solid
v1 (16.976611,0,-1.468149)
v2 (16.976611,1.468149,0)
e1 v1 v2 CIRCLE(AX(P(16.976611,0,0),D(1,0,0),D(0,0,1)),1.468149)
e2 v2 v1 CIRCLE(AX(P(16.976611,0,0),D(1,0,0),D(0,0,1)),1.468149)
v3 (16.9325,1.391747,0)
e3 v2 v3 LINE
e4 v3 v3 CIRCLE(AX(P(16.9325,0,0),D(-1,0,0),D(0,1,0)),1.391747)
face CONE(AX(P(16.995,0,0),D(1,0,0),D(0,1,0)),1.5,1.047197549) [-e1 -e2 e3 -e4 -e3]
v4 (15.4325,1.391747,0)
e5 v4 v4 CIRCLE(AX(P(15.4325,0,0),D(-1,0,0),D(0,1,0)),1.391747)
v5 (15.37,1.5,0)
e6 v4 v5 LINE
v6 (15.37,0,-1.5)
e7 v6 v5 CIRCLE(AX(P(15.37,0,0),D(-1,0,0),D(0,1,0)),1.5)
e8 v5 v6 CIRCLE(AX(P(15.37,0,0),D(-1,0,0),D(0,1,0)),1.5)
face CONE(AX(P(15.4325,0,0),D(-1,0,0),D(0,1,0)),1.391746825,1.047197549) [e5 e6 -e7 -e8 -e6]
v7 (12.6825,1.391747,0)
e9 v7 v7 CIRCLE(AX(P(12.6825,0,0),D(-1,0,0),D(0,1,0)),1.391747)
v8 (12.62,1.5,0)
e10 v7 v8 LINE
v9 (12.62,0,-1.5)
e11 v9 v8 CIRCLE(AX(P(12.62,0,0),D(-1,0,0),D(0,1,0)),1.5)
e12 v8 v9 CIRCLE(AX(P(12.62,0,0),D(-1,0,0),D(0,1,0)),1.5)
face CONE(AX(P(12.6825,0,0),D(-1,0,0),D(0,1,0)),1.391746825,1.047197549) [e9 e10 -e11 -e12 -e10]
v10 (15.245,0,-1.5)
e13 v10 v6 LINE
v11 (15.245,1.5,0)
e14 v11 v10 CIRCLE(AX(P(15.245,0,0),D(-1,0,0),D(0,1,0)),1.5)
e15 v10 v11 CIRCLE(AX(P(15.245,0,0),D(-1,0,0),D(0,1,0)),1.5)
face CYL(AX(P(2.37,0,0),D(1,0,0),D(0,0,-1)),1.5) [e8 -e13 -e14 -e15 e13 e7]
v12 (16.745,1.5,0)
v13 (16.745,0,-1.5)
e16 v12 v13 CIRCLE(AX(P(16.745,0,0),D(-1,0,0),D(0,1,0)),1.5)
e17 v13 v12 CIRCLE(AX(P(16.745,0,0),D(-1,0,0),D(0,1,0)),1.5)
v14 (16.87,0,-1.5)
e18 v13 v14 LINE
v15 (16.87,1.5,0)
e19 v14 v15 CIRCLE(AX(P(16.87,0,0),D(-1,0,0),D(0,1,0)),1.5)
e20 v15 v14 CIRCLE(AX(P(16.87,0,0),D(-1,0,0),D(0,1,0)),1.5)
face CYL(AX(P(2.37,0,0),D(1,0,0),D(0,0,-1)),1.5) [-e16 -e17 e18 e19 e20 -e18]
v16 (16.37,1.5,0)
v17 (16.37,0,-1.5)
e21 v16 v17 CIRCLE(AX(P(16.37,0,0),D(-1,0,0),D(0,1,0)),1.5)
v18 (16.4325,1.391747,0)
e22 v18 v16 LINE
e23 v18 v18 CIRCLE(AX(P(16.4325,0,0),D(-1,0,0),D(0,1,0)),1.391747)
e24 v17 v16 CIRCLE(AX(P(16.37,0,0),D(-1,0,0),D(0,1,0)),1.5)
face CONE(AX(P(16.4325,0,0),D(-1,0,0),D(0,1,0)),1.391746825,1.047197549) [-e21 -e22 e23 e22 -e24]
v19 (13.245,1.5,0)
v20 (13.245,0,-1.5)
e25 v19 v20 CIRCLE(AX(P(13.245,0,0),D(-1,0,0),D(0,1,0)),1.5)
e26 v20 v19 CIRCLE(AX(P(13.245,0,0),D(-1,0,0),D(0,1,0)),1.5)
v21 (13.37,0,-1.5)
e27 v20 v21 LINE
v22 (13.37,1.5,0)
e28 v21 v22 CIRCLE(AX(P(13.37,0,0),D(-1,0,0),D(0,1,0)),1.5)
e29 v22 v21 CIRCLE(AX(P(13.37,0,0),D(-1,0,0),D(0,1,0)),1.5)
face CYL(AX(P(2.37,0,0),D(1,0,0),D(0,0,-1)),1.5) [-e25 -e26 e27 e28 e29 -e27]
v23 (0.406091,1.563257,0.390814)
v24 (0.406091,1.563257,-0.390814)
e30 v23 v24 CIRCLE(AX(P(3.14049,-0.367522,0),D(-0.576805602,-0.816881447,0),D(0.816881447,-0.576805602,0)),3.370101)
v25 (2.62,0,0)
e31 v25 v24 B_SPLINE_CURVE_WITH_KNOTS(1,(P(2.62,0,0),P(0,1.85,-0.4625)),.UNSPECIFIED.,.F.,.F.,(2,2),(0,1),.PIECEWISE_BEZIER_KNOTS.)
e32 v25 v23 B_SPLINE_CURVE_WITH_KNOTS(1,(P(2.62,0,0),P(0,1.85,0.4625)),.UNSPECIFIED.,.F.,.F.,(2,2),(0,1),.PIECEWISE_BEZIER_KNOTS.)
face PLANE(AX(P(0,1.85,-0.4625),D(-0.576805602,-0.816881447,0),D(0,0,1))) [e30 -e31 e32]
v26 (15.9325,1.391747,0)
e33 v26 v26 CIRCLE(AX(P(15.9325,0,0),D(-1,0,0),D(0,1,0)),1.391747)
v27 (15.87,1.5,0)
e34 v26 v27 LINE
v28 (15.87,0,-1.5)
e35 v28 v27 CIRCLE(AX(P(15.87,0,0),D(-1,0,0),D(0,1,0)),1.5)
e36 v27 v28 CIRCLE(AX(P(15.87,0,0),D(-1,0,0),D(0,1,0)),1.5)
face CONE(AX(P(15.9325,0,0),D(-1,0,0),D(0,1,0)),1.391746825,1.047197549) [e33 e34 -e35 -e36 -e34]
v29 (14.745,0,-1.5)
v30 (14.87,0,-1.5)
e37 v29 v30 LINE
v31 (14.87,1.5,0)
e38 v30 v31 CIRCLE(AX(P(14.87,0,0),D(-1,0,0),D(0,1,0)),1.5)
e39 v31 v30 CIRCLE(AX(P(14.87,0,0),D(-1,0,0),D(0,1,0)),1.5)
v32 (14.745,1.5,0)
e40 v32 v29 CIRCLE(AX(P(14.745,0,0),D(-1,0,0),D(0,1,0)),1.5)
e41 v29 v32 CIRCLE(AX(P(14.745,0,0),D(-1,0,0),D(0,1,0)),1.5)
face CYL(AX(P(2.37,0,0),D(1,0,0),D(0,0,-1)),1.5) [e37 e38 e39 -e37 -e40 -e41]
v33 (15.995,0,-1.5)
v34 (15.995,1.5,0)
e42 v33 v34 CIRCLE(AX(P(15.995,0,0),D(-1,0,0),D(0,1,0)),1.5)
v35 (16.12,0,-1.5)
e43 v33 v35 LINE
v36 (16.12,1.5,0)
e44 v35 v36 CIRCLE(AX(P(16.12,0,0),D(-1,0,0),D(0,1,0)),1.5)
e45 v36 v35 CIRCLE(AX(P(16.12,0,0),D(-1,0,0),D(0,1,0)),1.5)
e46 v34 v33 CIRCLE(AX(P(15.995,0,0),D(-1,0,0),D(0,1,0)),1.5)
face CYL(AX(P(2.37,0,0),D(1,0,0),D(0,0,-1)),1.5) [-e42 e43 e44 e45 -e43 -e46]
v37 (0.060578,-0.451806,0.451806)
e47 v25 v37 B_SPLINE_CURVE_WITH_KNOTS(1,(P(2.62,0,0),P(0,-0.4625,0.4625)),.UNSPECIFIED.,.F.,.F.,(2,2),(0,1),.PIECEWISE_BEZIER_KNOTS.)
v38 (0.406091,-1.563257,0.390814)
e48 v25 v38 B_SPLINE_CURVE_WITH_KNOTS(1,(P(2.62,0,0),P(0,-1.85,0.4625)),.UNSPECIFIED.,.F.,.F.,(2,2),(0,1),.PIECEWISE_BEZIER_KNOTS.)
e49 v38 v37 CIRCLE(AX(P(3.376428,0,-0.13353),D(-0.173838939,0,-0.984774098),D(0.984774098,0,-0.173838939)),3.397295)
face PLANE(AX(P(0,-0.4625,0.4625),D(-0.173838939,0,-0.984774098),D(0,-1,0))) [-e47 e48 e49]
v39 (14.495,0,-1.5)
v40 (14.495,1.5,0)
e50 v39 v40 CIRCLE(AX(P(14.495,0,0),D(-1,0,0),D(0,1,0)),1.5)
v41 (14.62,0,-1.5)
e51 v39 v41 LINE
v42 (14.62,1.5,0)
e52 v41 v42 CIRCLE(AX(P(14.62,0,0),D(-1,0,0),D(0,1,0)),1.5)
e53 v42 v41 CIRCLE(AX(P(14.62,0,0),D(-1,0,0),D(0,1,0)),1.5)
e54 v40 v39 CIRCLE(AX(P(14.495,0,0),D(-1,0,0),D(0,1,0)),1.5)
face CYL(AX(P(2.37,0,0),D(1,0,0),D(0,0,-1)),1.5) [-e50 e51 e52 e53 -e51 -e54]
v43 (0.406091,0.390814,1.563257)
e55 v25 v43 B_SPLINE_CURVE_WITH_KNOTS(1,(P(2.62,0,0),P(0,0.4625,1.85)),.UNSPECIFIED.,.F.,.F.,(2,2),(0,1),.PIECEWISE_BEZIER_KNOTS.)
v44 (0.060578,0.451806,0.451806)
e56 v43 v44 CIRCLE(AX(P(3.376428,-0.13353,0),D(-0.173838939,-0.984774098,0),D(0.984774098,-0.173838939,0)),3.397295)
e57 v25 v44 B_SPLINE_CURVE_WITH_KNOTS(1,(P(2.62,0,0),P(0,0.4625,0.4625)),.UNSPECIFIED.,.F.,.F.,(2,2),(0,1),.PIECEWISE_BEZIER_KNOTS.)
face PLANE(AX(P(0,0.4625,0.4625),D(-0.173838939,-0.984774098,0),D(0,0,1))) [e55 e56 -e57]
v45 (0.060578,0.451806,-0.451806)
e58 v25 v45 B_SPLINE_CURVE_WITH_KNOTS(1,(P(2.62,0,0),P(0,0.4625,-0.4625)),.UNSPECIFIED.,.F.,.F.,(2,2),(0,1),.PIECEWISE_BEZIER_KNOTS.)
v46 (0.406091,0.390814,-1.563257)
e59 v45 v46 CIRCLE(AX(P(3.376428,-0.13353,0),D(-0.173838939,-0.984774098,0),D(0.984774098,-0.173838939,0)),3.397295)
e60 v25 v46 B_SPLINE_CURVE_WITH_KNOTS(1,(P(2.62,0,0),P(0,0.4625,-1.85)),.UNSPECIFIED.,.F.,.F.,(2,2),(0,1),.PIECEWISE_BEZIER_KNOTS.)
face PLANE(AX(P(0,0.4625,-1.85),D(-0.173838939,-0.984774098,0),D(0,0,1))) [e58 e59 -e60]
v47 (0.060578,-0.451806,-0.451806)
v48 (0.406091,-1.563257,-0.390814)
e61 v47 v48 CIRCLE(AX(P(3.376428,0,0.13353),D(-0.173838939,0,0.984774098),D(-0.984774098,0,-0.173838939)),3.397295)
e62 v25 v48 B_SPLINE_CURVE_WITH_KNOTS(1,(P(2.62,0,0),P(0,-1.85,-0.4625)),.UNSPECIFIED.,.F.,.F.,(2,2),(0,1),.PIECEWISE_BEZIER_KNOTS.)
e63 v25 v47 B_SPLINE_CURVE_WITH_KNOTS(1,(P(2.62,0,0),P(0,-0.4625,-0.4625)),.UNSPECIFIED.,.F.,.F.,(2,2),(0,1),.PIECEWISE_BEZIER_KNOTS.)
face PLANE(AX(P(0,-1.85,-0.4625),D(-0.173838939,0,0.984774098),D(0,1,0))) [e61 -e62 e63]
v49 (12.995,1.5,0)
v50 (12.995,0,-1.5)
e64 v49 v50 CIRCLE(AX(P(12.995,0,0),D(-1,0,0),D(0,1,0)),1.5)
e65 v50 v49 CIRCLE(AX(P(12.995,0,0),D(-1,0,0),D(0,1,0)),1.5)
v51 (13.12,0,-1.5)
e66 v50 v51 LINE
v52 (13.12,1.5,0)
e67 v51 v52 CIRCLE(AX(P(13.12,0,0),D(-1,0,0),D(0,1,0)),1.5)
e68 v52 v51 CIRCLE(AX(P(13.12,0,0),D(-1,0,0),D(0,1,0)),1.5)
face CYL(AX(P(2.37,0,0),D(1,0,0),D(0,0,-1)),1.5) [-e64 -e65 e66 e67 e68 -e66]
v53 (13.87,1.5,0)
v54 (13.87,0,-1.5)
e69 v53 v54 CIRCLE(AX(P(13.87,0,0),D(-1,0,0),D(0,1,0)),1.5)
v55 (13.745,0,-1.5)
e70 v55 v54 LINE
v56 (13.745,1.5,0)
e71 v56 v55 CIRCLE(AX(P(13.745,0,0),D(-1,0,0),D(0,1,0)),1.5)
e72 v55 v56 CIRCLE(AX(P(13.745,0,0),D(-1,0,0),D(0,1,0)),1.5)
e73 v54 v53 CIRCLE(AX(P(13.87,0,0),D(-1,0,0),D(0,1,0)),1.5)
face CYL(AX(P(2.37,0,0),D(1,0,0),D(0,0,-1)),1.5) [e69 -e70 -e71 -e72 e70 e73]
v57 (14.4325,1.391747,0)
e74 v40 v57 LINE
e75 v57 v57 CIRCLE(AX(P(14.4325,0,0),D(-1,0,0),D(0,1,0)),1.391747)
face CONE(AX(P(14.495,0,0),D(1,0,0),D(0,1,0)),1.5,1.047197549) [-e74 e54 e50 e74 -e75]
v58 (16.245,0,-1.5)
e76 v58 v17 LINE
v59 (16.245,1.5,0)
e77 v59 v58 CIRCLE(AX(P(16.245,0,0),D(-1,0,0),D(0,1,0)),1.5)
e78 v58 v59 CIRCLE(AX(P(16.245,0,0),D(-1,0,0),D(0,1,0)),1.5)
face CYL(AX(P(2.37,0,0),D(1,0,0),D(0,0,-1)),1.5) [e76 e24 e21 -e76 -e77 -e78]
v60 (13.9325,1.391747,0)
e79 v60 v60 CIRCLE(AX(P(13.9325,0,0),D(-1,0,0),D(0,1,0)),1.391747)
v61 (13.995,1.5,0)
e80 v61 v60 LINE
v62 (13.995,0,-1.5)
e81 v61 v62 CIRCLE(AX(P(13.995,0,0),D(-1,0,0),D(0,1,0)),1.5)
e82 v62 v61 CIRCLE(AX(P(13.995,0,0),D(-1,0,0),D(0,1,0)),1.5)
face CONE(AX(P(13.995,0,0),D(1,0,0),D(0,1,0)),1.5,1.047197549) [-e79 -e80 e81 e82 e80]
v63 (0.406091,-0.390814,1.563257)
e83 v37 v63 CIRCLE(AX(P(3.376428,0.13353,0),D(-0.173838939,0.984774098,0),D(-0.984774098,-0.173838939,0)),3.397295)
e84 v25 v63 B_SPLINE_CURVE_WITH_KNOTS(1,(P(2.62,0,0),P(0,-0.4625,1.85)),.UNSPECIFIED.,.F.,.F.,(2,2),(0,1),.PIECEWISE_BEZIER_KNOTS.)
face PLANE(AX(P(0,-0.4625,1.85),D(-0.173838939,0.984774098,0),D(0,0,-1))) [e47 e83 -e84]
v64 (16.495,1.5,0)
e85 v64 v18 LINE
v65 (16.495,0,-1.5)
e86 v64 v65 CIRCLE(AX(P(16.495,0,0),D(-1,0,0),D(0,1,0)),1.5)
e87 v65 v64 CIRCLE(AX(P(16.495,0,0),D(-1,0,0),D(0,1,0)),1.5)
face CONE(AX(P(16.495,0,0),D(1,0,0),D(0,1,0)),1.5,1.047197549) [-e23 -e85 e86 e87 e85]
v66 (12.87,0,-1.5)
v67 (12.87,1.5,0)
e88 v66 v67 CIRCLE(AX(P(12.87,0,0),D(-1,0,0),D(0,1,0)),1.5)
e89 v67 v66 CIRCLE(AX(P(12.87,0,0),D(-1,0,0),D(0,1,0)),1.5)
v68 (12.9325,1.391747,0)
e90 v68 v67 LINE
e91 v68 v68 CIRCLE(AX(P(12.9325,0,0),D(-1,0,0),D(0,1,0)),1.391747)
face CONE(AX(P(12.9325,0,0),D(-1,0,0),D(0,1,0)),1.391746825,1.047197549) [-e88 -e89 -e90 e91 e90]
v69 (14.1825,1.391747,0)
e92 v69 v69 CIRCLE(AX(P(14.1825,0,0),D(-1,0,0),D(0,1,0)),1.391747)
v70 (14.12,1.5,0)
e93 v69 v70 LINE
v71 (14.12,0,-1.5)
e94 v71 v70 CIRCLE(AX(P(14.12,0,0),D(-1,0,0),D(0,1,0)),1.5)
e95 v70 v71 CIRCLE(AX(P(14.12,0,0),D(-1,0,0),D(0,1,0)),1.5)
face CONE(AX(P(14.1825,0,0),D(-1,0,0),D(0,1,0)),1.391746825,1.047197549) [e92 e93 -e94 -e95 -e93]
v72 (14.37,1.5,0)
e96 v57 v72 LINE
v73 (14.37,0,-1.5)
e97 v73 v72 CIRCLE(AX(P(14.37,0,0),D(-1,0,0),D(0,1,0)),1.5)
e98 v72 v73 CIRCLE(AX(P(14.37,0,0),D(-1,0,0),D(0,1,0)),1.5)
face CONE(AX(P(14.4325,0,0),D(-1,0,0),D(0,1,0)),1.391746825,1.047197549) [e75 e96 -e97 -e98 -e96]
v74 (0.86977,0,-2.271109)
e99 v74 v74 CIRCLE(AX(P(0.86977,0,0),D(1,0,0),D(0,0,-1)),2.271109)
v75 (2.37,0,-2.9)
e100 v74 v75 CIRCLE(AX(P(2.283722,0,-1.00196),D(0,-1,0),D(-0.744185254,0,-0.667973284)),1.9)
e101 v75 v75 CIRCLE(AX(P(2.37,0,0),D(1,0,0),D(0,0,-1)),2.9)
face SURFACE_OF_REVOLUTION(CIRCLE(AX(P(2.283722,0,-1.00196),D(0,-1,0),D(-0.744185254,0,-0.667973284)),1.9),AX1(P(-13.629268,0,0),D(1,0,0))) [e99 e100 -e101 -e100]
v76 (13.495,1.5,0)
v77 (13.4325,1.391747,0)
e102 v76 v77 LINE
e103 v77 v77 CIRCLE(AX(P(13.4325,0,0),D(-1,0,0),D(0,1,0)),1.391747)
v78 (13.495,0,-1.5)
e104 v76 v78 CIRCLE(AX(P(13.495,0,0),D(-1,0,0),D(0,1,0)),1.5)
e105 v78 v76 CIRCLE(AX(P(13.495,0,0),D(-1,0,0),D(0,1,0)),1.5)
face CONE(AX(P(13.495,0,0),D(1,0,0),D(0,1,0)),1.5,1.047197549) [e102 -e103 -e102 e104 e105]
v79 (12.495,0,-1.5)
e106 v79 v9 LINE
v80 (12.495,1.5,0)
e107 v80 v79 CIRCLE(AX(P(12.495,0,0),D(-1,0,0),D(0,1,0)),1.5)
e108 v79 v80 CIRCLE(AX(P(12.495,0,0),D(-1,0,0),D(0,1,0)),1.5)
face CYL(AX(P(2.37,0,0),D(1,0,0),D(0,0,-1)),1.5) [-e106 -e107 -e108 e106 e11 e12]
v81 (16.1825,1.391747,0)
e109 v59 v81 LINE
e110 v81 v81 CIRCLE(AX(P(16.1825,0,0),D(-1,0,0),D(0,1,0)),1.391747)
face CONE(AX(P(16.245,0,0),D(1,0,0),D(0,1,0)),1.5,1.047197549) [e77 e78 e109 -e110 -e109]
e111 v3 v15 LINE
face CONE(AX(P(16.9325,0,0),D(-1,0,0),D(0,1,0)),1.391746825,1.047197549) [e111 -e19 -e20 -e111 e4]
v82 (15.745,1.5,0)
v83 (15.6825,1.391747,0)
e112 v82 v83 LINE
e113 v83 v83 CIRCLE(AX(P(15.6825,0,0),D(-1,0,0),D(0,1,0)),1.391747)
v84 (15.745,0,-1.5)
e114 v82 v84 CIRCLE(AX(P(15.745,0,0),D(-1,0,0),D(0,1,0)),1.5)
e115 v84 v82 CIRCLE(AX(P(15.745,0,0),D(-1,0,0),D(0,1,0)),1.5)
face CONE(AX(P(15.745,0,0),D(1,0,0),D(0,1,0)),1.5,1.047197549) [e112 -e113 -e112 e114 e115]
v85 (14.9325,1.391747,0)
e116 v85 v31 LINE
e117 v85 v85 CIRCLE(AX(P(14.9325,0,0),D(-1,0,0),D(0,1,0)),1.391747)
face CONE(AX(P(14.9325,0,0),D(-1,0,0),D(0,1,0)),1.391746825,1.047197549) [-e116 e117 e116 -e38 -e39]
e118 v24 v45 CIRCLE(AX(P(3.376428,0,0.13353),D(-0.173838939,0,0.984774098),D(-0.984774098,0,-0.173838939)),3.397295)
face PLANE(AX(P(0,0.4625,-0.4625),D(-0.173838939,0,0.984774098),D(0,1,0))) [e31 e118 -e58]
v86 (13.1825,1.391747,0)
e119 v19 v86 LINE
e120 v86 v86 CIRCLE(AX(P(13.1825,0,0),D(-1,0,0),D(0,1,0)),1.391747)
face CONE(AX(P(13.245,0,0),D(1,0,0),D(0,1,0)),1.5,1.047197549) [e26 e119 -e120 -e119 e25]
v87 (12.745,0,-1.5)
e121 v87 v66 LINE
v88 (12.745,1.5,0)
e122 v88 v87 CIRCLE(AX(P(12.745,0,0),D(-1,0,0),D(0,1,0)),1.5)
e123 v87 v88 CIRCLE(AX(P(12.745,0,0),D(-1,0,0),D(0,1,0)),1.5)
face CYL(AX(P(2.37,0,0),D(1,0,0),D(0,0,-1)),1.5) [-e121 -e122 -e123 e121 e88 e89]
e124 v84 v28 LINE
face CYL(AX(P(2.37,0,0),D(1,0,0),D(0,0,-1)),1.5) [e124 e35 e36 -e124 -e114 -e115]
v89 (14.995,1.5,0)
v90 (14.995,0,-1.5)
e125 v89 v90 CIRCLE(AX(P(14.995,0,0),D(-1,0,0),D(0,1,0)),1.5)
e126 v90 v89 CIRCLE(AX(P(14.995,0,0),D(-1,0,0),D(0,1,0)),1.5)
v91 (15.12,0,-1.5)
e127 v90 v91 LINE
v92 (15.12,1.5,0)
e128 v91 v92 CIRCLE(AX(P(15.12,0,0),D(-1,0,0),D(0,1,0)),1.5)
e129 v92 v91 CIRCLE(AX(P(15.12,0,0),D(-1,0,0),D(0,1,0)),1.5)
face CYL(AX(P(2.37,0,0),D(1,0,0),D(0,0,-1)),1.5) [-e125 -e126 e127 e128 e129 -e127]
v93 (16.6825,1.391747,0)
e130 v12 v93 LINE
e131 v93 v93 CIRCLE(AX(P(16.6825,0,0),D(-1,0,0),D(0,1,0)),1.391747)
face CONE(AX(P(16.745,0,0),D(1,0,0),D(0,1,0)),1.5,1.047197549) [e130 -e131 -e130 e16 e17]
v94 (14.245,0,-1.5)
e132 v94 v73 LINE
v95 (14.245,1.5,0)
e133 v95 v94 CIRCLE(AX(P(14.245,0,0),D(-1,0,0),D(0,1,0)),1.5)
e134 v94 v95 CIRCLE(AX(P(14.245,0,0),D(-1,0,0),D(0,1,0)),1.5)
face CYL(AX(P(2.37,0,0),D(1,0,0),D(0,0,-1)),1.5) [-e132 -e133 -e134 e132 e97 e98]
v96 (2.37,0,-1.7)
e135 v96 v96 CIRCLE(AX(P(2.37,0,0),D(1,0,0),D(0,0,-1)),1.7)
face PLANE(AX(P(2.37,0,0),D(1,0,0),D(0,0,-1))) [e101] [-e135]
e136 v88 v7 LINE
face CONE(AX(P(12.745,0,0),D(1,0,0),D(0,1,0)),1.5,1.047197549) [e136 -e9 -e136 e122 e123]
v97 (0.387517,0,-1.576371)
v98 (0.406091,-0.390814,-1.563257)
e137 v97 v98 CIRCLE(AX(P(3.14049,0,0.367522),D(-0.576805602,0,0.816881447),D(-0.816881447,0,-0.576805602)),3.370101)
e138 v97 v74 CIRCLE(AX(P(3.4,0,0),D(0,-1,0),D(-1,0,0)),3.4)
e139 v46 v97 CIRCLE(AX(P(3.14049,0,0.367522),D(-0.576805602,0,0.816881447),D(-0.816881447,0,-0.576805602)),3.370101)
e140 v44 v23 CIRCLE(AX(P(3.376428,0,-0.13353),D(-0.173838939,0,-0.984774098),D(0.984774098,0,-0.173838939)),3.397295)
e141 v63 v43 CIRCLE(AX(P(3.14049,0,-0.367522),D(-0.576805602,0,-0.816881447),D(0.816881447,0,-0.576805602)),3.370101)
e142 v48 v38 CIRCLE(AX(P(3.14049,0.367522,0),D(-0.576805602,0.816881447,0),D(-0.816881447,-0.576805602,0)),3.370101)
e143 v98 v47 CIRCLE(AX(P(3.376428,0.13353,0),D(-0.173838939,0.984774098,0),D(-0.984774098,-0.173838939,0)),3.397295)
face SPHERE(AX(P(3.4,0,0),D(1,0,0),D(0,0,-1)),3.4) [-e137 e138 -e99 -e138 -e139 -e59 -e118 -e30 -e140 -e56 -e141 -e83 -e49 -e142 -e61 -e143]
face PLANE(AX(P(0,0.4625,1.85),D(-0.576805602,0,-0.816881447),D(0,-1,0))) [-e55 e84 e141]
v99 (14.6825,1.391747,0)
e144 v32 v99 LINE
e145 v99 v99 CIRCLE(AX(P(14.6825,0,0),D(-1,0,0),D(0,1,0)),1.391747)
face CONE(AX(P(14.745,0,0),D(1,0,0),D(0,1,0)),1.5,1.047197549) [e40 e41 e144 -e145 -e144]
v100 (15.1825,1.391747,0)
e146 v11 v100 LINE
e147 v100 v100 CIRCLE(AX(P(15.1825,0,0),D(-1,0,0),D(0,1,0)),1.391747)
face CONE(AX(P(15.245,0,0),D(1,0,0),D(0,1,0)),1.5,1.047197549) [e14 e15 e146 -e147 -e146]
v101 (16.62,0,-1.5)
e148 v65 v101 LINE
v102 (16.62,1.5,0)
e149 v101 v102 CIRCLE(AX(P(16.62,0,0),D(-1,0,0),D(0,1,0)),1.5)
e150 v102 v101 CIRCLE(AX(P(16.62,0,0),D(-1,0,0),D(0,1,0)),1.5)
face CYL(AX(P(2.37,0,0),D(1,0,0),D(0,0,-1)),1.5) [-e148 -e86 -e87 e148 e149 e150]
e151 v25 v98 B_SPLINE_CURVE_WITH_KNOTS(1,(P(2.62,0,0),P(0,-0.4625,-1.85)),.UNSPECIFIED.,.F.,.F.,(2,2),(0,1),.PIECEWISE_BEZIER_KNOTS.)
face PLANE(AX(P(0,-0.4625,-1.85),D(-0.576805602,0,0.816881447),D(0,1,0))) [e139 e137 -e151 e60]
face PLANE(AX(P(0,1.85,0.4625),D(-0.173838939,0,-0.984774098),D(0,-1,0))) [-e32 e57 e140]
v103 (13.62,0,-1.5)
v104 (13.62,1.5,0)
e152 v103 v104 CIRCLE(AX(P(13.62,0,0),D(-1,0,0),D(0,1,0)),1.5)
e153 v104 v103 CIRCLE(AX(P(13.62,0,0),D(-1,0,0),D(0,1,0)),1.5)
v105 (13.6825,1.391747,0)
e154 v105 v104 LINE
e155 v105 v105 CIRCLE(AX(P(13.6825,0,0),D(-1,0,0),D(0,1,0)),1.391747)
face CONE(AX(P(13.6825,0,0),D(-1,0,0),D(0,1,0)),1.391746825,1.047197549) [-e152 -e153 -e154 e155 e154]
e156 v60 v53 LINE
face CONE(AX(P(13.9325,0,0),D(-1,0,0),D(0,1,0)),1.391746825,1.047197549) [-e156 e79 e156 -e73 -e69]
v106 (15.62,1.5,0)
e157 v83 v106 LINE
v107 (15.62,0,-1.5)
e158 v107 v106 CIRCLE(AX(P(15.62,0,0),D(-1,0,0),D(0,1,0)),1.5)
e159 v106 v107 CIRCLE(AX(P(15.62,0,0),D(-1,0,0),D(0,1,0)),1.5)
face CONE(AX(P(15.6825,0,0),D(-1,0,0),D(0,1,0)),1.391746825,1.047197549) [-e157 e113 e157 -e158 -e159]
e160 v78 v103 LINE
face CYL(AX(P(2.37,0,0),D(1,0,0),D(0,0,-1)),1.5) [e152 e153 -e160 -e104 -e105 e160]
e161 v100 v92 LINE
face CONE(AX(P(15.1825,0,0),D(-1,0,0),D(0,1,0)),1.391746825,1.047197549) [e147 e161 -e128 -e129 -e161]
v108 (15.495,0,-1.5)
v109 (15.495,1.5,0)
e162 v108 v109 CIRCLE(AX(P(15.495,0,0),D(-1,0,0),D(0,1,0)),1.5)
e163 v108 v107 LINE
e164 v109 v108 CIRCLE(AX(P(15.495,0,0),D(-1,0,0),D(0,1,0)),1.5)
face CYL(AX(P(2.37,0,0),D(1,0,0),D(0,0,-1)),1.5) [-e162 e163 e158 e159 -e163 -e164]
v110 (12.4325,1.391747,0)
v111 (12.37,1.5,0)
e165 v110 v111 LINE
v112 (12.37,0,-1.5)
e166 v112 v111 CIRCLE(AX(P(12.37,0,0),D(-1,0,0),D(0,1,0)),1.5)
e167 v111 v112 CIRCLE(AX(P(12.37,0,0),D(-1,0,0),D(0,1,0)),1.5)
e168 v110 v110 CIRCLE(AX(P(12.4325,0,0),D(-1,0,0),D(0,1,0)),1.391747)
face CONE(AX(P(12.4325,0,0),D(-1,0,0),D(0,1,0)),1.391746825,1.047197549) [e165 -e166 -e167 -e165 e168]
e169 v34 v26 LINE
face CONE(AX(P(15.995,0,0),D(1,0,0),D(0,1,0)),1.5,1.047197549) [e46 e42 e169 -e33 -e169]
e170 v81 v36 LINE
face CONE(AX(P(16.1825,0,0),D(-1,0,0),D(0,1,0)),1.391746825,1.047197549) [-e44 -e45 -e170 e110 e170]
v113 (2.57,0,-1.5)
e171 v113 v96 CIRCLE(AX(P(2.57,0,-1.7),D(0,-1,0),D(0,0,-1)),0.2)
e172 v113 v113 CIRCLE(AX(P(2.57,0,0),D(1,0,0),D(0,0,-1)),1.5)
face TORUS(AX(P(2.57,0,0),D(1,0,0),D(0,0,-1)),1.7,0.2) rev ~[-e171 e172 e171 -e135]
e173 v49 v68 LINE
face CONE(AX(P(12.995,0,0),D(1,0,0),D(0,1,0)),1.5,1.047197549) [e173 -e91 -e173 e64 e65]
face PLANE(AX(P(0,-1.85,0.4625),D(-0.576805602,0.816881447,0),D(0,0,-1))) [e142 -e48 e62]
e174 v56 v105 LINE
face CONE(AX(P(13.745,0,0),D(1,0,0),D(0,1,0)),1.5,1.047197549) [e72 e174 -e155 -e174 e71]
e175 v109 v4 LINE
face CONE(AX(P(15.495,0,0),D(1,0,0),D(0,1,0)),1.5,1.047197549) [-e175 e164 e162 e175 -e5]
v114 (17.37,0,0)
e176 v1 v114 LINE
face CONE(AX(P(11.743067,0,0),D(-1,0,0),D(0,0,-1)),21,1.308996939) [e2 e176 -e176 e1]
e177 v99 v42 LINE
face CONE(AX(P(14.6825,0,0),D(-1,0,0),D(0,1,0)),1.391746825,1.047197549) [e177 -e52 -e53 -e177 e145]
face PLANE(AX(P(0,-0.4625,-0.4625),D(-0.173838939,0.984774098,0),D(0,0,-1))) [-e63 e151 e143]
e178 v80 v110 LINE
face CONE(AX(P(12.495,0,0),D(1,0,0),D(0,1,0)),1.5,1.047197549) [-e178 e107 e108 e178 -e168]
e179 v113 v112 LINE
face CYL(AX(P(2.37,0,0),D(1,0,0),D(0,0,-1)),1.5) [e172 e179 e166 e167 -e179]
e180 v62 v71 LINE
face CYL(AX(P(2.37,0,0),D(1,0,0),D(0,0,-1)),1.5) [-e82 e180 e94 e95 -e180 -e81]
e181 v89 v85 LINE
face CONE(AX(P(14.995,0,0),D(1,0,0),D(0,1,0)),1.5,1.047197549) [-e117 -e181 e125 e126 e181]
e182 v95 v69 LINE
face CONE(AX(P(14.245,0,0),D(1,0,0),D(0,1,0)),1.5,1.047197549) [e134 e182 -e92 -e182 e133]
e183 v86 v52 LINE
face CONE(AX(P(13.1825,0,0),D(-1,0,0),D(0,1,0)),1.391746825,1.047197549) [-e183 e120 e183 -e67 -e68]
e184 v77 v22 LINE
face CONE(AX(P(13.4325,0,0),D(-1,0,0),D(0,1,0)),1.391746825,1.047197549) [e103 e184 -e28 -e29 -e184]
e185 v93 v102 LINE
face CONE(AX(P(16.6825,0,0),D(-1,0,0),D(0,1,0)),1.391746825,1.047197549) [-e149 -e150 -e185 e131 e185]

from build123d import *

# Parameters (mm, degrees)
FILLET2_R        = 0.2
LPATTERN10_COUNT = 20
LPATTERN10_PITCH = 0.25


with BuildPart() as part:
    # Sketch1 → Revolve1 (revolve)
    with BuildSketch(Plane(origin=(0, 0, 0), x_dir=(1, 0, 0), z_dir=(0, 1, 0))):
        with BuildLine():
            Line((2.37, 1.5), (17.37, 1.5))
            Line((17.37, 1.5), (17.37, 0))
            Line((17.37, 0), (0, 0))
            ThreePointArc((0, 0), (0.224879408, 1.215980768), (0.869770135, 2.271109163))
            ThreePointArc((0.869770135, 2.271109163), (1.549177667, 2.754228297), (2.37, 2.9))
            Line((2.37, 2.9), (2.37, 1.5))
        make_face()
    revolve(axis=Axis((-13.629268293, 0, 0), (1, 0, 0)))

    # Fillet2
    fillet2_edges = [part.edges().sort_by_distance(p)[0] for p in [
        (2.37, 0, 1.5),
    ]]
    fillet(fillet2_edges, radius=FILLET2_R)

    # Sketch4 → Cut-Revolve1 (revolve, cut)
    with BuildSketch(Plane(origin=(0, 0, 0), x_dir=(1, 0, 0), z_dir=(0, 1, 0))):
        Polygon((18.103454633, 0), (18.103454633, 21), (11.743066959, 21), (17.37, 0), align=None)
    revolve(axis=Axis((4.782773752, 0, 0), (1, 0, 0)), mode=Mode.SUBTRACT)

    # Sketch2 → Cut-Loft1 section 0
    with BuildSketch(Plane(origin=(0, 0, 0), x_dir=(0, 0, -1), z_dir=(1, 0, 0)), mode=Mode.PRIVATE) as cut_loft1_s0:
        Polygon((-0.4625, 0.4625), (-1.85, 0.4625), (-1.85, -0.4625), (-0.4625, -0.4625), (-0.4625, -1.85), (0.4625, -1.85), (0.4625, -0.4625), (1.85, -0.4625), (1.85, 0.4625), (0.4625, 0.4625), (0.4625, 1.85), (-0.4625, 1.85), align=None)
    loft([Vertex(2.62, 0, 0), cut_loft1_s0.sketch], mode=Mode.SUBTRACT)

    # Sketch6 → Cut-Revolve10 (revolve, cut)
    with BuildSketch(Plane.XY):
        Polygon((12.37, 1.7), (12.495, 1.7), (12.495, 1.5), (12.4325, 1.391746825), (12.37, 1.5), align=None)
    cut_revolve10 = revolve(axis=Axis((10.774329131, 0, 0), (-1, 0, 0)), mode=Mode.SUBTRACT)

    # LPattern10: Cut-Revolve10 ×20
    with Locations(*[(i * LPATTERN10_PITCH, 0, 0) for i in range(1, LPATTERN10_COUNT)]):
        add(cut_revolve10, mode=Mode.SUBTRACT)


solid = part.part
